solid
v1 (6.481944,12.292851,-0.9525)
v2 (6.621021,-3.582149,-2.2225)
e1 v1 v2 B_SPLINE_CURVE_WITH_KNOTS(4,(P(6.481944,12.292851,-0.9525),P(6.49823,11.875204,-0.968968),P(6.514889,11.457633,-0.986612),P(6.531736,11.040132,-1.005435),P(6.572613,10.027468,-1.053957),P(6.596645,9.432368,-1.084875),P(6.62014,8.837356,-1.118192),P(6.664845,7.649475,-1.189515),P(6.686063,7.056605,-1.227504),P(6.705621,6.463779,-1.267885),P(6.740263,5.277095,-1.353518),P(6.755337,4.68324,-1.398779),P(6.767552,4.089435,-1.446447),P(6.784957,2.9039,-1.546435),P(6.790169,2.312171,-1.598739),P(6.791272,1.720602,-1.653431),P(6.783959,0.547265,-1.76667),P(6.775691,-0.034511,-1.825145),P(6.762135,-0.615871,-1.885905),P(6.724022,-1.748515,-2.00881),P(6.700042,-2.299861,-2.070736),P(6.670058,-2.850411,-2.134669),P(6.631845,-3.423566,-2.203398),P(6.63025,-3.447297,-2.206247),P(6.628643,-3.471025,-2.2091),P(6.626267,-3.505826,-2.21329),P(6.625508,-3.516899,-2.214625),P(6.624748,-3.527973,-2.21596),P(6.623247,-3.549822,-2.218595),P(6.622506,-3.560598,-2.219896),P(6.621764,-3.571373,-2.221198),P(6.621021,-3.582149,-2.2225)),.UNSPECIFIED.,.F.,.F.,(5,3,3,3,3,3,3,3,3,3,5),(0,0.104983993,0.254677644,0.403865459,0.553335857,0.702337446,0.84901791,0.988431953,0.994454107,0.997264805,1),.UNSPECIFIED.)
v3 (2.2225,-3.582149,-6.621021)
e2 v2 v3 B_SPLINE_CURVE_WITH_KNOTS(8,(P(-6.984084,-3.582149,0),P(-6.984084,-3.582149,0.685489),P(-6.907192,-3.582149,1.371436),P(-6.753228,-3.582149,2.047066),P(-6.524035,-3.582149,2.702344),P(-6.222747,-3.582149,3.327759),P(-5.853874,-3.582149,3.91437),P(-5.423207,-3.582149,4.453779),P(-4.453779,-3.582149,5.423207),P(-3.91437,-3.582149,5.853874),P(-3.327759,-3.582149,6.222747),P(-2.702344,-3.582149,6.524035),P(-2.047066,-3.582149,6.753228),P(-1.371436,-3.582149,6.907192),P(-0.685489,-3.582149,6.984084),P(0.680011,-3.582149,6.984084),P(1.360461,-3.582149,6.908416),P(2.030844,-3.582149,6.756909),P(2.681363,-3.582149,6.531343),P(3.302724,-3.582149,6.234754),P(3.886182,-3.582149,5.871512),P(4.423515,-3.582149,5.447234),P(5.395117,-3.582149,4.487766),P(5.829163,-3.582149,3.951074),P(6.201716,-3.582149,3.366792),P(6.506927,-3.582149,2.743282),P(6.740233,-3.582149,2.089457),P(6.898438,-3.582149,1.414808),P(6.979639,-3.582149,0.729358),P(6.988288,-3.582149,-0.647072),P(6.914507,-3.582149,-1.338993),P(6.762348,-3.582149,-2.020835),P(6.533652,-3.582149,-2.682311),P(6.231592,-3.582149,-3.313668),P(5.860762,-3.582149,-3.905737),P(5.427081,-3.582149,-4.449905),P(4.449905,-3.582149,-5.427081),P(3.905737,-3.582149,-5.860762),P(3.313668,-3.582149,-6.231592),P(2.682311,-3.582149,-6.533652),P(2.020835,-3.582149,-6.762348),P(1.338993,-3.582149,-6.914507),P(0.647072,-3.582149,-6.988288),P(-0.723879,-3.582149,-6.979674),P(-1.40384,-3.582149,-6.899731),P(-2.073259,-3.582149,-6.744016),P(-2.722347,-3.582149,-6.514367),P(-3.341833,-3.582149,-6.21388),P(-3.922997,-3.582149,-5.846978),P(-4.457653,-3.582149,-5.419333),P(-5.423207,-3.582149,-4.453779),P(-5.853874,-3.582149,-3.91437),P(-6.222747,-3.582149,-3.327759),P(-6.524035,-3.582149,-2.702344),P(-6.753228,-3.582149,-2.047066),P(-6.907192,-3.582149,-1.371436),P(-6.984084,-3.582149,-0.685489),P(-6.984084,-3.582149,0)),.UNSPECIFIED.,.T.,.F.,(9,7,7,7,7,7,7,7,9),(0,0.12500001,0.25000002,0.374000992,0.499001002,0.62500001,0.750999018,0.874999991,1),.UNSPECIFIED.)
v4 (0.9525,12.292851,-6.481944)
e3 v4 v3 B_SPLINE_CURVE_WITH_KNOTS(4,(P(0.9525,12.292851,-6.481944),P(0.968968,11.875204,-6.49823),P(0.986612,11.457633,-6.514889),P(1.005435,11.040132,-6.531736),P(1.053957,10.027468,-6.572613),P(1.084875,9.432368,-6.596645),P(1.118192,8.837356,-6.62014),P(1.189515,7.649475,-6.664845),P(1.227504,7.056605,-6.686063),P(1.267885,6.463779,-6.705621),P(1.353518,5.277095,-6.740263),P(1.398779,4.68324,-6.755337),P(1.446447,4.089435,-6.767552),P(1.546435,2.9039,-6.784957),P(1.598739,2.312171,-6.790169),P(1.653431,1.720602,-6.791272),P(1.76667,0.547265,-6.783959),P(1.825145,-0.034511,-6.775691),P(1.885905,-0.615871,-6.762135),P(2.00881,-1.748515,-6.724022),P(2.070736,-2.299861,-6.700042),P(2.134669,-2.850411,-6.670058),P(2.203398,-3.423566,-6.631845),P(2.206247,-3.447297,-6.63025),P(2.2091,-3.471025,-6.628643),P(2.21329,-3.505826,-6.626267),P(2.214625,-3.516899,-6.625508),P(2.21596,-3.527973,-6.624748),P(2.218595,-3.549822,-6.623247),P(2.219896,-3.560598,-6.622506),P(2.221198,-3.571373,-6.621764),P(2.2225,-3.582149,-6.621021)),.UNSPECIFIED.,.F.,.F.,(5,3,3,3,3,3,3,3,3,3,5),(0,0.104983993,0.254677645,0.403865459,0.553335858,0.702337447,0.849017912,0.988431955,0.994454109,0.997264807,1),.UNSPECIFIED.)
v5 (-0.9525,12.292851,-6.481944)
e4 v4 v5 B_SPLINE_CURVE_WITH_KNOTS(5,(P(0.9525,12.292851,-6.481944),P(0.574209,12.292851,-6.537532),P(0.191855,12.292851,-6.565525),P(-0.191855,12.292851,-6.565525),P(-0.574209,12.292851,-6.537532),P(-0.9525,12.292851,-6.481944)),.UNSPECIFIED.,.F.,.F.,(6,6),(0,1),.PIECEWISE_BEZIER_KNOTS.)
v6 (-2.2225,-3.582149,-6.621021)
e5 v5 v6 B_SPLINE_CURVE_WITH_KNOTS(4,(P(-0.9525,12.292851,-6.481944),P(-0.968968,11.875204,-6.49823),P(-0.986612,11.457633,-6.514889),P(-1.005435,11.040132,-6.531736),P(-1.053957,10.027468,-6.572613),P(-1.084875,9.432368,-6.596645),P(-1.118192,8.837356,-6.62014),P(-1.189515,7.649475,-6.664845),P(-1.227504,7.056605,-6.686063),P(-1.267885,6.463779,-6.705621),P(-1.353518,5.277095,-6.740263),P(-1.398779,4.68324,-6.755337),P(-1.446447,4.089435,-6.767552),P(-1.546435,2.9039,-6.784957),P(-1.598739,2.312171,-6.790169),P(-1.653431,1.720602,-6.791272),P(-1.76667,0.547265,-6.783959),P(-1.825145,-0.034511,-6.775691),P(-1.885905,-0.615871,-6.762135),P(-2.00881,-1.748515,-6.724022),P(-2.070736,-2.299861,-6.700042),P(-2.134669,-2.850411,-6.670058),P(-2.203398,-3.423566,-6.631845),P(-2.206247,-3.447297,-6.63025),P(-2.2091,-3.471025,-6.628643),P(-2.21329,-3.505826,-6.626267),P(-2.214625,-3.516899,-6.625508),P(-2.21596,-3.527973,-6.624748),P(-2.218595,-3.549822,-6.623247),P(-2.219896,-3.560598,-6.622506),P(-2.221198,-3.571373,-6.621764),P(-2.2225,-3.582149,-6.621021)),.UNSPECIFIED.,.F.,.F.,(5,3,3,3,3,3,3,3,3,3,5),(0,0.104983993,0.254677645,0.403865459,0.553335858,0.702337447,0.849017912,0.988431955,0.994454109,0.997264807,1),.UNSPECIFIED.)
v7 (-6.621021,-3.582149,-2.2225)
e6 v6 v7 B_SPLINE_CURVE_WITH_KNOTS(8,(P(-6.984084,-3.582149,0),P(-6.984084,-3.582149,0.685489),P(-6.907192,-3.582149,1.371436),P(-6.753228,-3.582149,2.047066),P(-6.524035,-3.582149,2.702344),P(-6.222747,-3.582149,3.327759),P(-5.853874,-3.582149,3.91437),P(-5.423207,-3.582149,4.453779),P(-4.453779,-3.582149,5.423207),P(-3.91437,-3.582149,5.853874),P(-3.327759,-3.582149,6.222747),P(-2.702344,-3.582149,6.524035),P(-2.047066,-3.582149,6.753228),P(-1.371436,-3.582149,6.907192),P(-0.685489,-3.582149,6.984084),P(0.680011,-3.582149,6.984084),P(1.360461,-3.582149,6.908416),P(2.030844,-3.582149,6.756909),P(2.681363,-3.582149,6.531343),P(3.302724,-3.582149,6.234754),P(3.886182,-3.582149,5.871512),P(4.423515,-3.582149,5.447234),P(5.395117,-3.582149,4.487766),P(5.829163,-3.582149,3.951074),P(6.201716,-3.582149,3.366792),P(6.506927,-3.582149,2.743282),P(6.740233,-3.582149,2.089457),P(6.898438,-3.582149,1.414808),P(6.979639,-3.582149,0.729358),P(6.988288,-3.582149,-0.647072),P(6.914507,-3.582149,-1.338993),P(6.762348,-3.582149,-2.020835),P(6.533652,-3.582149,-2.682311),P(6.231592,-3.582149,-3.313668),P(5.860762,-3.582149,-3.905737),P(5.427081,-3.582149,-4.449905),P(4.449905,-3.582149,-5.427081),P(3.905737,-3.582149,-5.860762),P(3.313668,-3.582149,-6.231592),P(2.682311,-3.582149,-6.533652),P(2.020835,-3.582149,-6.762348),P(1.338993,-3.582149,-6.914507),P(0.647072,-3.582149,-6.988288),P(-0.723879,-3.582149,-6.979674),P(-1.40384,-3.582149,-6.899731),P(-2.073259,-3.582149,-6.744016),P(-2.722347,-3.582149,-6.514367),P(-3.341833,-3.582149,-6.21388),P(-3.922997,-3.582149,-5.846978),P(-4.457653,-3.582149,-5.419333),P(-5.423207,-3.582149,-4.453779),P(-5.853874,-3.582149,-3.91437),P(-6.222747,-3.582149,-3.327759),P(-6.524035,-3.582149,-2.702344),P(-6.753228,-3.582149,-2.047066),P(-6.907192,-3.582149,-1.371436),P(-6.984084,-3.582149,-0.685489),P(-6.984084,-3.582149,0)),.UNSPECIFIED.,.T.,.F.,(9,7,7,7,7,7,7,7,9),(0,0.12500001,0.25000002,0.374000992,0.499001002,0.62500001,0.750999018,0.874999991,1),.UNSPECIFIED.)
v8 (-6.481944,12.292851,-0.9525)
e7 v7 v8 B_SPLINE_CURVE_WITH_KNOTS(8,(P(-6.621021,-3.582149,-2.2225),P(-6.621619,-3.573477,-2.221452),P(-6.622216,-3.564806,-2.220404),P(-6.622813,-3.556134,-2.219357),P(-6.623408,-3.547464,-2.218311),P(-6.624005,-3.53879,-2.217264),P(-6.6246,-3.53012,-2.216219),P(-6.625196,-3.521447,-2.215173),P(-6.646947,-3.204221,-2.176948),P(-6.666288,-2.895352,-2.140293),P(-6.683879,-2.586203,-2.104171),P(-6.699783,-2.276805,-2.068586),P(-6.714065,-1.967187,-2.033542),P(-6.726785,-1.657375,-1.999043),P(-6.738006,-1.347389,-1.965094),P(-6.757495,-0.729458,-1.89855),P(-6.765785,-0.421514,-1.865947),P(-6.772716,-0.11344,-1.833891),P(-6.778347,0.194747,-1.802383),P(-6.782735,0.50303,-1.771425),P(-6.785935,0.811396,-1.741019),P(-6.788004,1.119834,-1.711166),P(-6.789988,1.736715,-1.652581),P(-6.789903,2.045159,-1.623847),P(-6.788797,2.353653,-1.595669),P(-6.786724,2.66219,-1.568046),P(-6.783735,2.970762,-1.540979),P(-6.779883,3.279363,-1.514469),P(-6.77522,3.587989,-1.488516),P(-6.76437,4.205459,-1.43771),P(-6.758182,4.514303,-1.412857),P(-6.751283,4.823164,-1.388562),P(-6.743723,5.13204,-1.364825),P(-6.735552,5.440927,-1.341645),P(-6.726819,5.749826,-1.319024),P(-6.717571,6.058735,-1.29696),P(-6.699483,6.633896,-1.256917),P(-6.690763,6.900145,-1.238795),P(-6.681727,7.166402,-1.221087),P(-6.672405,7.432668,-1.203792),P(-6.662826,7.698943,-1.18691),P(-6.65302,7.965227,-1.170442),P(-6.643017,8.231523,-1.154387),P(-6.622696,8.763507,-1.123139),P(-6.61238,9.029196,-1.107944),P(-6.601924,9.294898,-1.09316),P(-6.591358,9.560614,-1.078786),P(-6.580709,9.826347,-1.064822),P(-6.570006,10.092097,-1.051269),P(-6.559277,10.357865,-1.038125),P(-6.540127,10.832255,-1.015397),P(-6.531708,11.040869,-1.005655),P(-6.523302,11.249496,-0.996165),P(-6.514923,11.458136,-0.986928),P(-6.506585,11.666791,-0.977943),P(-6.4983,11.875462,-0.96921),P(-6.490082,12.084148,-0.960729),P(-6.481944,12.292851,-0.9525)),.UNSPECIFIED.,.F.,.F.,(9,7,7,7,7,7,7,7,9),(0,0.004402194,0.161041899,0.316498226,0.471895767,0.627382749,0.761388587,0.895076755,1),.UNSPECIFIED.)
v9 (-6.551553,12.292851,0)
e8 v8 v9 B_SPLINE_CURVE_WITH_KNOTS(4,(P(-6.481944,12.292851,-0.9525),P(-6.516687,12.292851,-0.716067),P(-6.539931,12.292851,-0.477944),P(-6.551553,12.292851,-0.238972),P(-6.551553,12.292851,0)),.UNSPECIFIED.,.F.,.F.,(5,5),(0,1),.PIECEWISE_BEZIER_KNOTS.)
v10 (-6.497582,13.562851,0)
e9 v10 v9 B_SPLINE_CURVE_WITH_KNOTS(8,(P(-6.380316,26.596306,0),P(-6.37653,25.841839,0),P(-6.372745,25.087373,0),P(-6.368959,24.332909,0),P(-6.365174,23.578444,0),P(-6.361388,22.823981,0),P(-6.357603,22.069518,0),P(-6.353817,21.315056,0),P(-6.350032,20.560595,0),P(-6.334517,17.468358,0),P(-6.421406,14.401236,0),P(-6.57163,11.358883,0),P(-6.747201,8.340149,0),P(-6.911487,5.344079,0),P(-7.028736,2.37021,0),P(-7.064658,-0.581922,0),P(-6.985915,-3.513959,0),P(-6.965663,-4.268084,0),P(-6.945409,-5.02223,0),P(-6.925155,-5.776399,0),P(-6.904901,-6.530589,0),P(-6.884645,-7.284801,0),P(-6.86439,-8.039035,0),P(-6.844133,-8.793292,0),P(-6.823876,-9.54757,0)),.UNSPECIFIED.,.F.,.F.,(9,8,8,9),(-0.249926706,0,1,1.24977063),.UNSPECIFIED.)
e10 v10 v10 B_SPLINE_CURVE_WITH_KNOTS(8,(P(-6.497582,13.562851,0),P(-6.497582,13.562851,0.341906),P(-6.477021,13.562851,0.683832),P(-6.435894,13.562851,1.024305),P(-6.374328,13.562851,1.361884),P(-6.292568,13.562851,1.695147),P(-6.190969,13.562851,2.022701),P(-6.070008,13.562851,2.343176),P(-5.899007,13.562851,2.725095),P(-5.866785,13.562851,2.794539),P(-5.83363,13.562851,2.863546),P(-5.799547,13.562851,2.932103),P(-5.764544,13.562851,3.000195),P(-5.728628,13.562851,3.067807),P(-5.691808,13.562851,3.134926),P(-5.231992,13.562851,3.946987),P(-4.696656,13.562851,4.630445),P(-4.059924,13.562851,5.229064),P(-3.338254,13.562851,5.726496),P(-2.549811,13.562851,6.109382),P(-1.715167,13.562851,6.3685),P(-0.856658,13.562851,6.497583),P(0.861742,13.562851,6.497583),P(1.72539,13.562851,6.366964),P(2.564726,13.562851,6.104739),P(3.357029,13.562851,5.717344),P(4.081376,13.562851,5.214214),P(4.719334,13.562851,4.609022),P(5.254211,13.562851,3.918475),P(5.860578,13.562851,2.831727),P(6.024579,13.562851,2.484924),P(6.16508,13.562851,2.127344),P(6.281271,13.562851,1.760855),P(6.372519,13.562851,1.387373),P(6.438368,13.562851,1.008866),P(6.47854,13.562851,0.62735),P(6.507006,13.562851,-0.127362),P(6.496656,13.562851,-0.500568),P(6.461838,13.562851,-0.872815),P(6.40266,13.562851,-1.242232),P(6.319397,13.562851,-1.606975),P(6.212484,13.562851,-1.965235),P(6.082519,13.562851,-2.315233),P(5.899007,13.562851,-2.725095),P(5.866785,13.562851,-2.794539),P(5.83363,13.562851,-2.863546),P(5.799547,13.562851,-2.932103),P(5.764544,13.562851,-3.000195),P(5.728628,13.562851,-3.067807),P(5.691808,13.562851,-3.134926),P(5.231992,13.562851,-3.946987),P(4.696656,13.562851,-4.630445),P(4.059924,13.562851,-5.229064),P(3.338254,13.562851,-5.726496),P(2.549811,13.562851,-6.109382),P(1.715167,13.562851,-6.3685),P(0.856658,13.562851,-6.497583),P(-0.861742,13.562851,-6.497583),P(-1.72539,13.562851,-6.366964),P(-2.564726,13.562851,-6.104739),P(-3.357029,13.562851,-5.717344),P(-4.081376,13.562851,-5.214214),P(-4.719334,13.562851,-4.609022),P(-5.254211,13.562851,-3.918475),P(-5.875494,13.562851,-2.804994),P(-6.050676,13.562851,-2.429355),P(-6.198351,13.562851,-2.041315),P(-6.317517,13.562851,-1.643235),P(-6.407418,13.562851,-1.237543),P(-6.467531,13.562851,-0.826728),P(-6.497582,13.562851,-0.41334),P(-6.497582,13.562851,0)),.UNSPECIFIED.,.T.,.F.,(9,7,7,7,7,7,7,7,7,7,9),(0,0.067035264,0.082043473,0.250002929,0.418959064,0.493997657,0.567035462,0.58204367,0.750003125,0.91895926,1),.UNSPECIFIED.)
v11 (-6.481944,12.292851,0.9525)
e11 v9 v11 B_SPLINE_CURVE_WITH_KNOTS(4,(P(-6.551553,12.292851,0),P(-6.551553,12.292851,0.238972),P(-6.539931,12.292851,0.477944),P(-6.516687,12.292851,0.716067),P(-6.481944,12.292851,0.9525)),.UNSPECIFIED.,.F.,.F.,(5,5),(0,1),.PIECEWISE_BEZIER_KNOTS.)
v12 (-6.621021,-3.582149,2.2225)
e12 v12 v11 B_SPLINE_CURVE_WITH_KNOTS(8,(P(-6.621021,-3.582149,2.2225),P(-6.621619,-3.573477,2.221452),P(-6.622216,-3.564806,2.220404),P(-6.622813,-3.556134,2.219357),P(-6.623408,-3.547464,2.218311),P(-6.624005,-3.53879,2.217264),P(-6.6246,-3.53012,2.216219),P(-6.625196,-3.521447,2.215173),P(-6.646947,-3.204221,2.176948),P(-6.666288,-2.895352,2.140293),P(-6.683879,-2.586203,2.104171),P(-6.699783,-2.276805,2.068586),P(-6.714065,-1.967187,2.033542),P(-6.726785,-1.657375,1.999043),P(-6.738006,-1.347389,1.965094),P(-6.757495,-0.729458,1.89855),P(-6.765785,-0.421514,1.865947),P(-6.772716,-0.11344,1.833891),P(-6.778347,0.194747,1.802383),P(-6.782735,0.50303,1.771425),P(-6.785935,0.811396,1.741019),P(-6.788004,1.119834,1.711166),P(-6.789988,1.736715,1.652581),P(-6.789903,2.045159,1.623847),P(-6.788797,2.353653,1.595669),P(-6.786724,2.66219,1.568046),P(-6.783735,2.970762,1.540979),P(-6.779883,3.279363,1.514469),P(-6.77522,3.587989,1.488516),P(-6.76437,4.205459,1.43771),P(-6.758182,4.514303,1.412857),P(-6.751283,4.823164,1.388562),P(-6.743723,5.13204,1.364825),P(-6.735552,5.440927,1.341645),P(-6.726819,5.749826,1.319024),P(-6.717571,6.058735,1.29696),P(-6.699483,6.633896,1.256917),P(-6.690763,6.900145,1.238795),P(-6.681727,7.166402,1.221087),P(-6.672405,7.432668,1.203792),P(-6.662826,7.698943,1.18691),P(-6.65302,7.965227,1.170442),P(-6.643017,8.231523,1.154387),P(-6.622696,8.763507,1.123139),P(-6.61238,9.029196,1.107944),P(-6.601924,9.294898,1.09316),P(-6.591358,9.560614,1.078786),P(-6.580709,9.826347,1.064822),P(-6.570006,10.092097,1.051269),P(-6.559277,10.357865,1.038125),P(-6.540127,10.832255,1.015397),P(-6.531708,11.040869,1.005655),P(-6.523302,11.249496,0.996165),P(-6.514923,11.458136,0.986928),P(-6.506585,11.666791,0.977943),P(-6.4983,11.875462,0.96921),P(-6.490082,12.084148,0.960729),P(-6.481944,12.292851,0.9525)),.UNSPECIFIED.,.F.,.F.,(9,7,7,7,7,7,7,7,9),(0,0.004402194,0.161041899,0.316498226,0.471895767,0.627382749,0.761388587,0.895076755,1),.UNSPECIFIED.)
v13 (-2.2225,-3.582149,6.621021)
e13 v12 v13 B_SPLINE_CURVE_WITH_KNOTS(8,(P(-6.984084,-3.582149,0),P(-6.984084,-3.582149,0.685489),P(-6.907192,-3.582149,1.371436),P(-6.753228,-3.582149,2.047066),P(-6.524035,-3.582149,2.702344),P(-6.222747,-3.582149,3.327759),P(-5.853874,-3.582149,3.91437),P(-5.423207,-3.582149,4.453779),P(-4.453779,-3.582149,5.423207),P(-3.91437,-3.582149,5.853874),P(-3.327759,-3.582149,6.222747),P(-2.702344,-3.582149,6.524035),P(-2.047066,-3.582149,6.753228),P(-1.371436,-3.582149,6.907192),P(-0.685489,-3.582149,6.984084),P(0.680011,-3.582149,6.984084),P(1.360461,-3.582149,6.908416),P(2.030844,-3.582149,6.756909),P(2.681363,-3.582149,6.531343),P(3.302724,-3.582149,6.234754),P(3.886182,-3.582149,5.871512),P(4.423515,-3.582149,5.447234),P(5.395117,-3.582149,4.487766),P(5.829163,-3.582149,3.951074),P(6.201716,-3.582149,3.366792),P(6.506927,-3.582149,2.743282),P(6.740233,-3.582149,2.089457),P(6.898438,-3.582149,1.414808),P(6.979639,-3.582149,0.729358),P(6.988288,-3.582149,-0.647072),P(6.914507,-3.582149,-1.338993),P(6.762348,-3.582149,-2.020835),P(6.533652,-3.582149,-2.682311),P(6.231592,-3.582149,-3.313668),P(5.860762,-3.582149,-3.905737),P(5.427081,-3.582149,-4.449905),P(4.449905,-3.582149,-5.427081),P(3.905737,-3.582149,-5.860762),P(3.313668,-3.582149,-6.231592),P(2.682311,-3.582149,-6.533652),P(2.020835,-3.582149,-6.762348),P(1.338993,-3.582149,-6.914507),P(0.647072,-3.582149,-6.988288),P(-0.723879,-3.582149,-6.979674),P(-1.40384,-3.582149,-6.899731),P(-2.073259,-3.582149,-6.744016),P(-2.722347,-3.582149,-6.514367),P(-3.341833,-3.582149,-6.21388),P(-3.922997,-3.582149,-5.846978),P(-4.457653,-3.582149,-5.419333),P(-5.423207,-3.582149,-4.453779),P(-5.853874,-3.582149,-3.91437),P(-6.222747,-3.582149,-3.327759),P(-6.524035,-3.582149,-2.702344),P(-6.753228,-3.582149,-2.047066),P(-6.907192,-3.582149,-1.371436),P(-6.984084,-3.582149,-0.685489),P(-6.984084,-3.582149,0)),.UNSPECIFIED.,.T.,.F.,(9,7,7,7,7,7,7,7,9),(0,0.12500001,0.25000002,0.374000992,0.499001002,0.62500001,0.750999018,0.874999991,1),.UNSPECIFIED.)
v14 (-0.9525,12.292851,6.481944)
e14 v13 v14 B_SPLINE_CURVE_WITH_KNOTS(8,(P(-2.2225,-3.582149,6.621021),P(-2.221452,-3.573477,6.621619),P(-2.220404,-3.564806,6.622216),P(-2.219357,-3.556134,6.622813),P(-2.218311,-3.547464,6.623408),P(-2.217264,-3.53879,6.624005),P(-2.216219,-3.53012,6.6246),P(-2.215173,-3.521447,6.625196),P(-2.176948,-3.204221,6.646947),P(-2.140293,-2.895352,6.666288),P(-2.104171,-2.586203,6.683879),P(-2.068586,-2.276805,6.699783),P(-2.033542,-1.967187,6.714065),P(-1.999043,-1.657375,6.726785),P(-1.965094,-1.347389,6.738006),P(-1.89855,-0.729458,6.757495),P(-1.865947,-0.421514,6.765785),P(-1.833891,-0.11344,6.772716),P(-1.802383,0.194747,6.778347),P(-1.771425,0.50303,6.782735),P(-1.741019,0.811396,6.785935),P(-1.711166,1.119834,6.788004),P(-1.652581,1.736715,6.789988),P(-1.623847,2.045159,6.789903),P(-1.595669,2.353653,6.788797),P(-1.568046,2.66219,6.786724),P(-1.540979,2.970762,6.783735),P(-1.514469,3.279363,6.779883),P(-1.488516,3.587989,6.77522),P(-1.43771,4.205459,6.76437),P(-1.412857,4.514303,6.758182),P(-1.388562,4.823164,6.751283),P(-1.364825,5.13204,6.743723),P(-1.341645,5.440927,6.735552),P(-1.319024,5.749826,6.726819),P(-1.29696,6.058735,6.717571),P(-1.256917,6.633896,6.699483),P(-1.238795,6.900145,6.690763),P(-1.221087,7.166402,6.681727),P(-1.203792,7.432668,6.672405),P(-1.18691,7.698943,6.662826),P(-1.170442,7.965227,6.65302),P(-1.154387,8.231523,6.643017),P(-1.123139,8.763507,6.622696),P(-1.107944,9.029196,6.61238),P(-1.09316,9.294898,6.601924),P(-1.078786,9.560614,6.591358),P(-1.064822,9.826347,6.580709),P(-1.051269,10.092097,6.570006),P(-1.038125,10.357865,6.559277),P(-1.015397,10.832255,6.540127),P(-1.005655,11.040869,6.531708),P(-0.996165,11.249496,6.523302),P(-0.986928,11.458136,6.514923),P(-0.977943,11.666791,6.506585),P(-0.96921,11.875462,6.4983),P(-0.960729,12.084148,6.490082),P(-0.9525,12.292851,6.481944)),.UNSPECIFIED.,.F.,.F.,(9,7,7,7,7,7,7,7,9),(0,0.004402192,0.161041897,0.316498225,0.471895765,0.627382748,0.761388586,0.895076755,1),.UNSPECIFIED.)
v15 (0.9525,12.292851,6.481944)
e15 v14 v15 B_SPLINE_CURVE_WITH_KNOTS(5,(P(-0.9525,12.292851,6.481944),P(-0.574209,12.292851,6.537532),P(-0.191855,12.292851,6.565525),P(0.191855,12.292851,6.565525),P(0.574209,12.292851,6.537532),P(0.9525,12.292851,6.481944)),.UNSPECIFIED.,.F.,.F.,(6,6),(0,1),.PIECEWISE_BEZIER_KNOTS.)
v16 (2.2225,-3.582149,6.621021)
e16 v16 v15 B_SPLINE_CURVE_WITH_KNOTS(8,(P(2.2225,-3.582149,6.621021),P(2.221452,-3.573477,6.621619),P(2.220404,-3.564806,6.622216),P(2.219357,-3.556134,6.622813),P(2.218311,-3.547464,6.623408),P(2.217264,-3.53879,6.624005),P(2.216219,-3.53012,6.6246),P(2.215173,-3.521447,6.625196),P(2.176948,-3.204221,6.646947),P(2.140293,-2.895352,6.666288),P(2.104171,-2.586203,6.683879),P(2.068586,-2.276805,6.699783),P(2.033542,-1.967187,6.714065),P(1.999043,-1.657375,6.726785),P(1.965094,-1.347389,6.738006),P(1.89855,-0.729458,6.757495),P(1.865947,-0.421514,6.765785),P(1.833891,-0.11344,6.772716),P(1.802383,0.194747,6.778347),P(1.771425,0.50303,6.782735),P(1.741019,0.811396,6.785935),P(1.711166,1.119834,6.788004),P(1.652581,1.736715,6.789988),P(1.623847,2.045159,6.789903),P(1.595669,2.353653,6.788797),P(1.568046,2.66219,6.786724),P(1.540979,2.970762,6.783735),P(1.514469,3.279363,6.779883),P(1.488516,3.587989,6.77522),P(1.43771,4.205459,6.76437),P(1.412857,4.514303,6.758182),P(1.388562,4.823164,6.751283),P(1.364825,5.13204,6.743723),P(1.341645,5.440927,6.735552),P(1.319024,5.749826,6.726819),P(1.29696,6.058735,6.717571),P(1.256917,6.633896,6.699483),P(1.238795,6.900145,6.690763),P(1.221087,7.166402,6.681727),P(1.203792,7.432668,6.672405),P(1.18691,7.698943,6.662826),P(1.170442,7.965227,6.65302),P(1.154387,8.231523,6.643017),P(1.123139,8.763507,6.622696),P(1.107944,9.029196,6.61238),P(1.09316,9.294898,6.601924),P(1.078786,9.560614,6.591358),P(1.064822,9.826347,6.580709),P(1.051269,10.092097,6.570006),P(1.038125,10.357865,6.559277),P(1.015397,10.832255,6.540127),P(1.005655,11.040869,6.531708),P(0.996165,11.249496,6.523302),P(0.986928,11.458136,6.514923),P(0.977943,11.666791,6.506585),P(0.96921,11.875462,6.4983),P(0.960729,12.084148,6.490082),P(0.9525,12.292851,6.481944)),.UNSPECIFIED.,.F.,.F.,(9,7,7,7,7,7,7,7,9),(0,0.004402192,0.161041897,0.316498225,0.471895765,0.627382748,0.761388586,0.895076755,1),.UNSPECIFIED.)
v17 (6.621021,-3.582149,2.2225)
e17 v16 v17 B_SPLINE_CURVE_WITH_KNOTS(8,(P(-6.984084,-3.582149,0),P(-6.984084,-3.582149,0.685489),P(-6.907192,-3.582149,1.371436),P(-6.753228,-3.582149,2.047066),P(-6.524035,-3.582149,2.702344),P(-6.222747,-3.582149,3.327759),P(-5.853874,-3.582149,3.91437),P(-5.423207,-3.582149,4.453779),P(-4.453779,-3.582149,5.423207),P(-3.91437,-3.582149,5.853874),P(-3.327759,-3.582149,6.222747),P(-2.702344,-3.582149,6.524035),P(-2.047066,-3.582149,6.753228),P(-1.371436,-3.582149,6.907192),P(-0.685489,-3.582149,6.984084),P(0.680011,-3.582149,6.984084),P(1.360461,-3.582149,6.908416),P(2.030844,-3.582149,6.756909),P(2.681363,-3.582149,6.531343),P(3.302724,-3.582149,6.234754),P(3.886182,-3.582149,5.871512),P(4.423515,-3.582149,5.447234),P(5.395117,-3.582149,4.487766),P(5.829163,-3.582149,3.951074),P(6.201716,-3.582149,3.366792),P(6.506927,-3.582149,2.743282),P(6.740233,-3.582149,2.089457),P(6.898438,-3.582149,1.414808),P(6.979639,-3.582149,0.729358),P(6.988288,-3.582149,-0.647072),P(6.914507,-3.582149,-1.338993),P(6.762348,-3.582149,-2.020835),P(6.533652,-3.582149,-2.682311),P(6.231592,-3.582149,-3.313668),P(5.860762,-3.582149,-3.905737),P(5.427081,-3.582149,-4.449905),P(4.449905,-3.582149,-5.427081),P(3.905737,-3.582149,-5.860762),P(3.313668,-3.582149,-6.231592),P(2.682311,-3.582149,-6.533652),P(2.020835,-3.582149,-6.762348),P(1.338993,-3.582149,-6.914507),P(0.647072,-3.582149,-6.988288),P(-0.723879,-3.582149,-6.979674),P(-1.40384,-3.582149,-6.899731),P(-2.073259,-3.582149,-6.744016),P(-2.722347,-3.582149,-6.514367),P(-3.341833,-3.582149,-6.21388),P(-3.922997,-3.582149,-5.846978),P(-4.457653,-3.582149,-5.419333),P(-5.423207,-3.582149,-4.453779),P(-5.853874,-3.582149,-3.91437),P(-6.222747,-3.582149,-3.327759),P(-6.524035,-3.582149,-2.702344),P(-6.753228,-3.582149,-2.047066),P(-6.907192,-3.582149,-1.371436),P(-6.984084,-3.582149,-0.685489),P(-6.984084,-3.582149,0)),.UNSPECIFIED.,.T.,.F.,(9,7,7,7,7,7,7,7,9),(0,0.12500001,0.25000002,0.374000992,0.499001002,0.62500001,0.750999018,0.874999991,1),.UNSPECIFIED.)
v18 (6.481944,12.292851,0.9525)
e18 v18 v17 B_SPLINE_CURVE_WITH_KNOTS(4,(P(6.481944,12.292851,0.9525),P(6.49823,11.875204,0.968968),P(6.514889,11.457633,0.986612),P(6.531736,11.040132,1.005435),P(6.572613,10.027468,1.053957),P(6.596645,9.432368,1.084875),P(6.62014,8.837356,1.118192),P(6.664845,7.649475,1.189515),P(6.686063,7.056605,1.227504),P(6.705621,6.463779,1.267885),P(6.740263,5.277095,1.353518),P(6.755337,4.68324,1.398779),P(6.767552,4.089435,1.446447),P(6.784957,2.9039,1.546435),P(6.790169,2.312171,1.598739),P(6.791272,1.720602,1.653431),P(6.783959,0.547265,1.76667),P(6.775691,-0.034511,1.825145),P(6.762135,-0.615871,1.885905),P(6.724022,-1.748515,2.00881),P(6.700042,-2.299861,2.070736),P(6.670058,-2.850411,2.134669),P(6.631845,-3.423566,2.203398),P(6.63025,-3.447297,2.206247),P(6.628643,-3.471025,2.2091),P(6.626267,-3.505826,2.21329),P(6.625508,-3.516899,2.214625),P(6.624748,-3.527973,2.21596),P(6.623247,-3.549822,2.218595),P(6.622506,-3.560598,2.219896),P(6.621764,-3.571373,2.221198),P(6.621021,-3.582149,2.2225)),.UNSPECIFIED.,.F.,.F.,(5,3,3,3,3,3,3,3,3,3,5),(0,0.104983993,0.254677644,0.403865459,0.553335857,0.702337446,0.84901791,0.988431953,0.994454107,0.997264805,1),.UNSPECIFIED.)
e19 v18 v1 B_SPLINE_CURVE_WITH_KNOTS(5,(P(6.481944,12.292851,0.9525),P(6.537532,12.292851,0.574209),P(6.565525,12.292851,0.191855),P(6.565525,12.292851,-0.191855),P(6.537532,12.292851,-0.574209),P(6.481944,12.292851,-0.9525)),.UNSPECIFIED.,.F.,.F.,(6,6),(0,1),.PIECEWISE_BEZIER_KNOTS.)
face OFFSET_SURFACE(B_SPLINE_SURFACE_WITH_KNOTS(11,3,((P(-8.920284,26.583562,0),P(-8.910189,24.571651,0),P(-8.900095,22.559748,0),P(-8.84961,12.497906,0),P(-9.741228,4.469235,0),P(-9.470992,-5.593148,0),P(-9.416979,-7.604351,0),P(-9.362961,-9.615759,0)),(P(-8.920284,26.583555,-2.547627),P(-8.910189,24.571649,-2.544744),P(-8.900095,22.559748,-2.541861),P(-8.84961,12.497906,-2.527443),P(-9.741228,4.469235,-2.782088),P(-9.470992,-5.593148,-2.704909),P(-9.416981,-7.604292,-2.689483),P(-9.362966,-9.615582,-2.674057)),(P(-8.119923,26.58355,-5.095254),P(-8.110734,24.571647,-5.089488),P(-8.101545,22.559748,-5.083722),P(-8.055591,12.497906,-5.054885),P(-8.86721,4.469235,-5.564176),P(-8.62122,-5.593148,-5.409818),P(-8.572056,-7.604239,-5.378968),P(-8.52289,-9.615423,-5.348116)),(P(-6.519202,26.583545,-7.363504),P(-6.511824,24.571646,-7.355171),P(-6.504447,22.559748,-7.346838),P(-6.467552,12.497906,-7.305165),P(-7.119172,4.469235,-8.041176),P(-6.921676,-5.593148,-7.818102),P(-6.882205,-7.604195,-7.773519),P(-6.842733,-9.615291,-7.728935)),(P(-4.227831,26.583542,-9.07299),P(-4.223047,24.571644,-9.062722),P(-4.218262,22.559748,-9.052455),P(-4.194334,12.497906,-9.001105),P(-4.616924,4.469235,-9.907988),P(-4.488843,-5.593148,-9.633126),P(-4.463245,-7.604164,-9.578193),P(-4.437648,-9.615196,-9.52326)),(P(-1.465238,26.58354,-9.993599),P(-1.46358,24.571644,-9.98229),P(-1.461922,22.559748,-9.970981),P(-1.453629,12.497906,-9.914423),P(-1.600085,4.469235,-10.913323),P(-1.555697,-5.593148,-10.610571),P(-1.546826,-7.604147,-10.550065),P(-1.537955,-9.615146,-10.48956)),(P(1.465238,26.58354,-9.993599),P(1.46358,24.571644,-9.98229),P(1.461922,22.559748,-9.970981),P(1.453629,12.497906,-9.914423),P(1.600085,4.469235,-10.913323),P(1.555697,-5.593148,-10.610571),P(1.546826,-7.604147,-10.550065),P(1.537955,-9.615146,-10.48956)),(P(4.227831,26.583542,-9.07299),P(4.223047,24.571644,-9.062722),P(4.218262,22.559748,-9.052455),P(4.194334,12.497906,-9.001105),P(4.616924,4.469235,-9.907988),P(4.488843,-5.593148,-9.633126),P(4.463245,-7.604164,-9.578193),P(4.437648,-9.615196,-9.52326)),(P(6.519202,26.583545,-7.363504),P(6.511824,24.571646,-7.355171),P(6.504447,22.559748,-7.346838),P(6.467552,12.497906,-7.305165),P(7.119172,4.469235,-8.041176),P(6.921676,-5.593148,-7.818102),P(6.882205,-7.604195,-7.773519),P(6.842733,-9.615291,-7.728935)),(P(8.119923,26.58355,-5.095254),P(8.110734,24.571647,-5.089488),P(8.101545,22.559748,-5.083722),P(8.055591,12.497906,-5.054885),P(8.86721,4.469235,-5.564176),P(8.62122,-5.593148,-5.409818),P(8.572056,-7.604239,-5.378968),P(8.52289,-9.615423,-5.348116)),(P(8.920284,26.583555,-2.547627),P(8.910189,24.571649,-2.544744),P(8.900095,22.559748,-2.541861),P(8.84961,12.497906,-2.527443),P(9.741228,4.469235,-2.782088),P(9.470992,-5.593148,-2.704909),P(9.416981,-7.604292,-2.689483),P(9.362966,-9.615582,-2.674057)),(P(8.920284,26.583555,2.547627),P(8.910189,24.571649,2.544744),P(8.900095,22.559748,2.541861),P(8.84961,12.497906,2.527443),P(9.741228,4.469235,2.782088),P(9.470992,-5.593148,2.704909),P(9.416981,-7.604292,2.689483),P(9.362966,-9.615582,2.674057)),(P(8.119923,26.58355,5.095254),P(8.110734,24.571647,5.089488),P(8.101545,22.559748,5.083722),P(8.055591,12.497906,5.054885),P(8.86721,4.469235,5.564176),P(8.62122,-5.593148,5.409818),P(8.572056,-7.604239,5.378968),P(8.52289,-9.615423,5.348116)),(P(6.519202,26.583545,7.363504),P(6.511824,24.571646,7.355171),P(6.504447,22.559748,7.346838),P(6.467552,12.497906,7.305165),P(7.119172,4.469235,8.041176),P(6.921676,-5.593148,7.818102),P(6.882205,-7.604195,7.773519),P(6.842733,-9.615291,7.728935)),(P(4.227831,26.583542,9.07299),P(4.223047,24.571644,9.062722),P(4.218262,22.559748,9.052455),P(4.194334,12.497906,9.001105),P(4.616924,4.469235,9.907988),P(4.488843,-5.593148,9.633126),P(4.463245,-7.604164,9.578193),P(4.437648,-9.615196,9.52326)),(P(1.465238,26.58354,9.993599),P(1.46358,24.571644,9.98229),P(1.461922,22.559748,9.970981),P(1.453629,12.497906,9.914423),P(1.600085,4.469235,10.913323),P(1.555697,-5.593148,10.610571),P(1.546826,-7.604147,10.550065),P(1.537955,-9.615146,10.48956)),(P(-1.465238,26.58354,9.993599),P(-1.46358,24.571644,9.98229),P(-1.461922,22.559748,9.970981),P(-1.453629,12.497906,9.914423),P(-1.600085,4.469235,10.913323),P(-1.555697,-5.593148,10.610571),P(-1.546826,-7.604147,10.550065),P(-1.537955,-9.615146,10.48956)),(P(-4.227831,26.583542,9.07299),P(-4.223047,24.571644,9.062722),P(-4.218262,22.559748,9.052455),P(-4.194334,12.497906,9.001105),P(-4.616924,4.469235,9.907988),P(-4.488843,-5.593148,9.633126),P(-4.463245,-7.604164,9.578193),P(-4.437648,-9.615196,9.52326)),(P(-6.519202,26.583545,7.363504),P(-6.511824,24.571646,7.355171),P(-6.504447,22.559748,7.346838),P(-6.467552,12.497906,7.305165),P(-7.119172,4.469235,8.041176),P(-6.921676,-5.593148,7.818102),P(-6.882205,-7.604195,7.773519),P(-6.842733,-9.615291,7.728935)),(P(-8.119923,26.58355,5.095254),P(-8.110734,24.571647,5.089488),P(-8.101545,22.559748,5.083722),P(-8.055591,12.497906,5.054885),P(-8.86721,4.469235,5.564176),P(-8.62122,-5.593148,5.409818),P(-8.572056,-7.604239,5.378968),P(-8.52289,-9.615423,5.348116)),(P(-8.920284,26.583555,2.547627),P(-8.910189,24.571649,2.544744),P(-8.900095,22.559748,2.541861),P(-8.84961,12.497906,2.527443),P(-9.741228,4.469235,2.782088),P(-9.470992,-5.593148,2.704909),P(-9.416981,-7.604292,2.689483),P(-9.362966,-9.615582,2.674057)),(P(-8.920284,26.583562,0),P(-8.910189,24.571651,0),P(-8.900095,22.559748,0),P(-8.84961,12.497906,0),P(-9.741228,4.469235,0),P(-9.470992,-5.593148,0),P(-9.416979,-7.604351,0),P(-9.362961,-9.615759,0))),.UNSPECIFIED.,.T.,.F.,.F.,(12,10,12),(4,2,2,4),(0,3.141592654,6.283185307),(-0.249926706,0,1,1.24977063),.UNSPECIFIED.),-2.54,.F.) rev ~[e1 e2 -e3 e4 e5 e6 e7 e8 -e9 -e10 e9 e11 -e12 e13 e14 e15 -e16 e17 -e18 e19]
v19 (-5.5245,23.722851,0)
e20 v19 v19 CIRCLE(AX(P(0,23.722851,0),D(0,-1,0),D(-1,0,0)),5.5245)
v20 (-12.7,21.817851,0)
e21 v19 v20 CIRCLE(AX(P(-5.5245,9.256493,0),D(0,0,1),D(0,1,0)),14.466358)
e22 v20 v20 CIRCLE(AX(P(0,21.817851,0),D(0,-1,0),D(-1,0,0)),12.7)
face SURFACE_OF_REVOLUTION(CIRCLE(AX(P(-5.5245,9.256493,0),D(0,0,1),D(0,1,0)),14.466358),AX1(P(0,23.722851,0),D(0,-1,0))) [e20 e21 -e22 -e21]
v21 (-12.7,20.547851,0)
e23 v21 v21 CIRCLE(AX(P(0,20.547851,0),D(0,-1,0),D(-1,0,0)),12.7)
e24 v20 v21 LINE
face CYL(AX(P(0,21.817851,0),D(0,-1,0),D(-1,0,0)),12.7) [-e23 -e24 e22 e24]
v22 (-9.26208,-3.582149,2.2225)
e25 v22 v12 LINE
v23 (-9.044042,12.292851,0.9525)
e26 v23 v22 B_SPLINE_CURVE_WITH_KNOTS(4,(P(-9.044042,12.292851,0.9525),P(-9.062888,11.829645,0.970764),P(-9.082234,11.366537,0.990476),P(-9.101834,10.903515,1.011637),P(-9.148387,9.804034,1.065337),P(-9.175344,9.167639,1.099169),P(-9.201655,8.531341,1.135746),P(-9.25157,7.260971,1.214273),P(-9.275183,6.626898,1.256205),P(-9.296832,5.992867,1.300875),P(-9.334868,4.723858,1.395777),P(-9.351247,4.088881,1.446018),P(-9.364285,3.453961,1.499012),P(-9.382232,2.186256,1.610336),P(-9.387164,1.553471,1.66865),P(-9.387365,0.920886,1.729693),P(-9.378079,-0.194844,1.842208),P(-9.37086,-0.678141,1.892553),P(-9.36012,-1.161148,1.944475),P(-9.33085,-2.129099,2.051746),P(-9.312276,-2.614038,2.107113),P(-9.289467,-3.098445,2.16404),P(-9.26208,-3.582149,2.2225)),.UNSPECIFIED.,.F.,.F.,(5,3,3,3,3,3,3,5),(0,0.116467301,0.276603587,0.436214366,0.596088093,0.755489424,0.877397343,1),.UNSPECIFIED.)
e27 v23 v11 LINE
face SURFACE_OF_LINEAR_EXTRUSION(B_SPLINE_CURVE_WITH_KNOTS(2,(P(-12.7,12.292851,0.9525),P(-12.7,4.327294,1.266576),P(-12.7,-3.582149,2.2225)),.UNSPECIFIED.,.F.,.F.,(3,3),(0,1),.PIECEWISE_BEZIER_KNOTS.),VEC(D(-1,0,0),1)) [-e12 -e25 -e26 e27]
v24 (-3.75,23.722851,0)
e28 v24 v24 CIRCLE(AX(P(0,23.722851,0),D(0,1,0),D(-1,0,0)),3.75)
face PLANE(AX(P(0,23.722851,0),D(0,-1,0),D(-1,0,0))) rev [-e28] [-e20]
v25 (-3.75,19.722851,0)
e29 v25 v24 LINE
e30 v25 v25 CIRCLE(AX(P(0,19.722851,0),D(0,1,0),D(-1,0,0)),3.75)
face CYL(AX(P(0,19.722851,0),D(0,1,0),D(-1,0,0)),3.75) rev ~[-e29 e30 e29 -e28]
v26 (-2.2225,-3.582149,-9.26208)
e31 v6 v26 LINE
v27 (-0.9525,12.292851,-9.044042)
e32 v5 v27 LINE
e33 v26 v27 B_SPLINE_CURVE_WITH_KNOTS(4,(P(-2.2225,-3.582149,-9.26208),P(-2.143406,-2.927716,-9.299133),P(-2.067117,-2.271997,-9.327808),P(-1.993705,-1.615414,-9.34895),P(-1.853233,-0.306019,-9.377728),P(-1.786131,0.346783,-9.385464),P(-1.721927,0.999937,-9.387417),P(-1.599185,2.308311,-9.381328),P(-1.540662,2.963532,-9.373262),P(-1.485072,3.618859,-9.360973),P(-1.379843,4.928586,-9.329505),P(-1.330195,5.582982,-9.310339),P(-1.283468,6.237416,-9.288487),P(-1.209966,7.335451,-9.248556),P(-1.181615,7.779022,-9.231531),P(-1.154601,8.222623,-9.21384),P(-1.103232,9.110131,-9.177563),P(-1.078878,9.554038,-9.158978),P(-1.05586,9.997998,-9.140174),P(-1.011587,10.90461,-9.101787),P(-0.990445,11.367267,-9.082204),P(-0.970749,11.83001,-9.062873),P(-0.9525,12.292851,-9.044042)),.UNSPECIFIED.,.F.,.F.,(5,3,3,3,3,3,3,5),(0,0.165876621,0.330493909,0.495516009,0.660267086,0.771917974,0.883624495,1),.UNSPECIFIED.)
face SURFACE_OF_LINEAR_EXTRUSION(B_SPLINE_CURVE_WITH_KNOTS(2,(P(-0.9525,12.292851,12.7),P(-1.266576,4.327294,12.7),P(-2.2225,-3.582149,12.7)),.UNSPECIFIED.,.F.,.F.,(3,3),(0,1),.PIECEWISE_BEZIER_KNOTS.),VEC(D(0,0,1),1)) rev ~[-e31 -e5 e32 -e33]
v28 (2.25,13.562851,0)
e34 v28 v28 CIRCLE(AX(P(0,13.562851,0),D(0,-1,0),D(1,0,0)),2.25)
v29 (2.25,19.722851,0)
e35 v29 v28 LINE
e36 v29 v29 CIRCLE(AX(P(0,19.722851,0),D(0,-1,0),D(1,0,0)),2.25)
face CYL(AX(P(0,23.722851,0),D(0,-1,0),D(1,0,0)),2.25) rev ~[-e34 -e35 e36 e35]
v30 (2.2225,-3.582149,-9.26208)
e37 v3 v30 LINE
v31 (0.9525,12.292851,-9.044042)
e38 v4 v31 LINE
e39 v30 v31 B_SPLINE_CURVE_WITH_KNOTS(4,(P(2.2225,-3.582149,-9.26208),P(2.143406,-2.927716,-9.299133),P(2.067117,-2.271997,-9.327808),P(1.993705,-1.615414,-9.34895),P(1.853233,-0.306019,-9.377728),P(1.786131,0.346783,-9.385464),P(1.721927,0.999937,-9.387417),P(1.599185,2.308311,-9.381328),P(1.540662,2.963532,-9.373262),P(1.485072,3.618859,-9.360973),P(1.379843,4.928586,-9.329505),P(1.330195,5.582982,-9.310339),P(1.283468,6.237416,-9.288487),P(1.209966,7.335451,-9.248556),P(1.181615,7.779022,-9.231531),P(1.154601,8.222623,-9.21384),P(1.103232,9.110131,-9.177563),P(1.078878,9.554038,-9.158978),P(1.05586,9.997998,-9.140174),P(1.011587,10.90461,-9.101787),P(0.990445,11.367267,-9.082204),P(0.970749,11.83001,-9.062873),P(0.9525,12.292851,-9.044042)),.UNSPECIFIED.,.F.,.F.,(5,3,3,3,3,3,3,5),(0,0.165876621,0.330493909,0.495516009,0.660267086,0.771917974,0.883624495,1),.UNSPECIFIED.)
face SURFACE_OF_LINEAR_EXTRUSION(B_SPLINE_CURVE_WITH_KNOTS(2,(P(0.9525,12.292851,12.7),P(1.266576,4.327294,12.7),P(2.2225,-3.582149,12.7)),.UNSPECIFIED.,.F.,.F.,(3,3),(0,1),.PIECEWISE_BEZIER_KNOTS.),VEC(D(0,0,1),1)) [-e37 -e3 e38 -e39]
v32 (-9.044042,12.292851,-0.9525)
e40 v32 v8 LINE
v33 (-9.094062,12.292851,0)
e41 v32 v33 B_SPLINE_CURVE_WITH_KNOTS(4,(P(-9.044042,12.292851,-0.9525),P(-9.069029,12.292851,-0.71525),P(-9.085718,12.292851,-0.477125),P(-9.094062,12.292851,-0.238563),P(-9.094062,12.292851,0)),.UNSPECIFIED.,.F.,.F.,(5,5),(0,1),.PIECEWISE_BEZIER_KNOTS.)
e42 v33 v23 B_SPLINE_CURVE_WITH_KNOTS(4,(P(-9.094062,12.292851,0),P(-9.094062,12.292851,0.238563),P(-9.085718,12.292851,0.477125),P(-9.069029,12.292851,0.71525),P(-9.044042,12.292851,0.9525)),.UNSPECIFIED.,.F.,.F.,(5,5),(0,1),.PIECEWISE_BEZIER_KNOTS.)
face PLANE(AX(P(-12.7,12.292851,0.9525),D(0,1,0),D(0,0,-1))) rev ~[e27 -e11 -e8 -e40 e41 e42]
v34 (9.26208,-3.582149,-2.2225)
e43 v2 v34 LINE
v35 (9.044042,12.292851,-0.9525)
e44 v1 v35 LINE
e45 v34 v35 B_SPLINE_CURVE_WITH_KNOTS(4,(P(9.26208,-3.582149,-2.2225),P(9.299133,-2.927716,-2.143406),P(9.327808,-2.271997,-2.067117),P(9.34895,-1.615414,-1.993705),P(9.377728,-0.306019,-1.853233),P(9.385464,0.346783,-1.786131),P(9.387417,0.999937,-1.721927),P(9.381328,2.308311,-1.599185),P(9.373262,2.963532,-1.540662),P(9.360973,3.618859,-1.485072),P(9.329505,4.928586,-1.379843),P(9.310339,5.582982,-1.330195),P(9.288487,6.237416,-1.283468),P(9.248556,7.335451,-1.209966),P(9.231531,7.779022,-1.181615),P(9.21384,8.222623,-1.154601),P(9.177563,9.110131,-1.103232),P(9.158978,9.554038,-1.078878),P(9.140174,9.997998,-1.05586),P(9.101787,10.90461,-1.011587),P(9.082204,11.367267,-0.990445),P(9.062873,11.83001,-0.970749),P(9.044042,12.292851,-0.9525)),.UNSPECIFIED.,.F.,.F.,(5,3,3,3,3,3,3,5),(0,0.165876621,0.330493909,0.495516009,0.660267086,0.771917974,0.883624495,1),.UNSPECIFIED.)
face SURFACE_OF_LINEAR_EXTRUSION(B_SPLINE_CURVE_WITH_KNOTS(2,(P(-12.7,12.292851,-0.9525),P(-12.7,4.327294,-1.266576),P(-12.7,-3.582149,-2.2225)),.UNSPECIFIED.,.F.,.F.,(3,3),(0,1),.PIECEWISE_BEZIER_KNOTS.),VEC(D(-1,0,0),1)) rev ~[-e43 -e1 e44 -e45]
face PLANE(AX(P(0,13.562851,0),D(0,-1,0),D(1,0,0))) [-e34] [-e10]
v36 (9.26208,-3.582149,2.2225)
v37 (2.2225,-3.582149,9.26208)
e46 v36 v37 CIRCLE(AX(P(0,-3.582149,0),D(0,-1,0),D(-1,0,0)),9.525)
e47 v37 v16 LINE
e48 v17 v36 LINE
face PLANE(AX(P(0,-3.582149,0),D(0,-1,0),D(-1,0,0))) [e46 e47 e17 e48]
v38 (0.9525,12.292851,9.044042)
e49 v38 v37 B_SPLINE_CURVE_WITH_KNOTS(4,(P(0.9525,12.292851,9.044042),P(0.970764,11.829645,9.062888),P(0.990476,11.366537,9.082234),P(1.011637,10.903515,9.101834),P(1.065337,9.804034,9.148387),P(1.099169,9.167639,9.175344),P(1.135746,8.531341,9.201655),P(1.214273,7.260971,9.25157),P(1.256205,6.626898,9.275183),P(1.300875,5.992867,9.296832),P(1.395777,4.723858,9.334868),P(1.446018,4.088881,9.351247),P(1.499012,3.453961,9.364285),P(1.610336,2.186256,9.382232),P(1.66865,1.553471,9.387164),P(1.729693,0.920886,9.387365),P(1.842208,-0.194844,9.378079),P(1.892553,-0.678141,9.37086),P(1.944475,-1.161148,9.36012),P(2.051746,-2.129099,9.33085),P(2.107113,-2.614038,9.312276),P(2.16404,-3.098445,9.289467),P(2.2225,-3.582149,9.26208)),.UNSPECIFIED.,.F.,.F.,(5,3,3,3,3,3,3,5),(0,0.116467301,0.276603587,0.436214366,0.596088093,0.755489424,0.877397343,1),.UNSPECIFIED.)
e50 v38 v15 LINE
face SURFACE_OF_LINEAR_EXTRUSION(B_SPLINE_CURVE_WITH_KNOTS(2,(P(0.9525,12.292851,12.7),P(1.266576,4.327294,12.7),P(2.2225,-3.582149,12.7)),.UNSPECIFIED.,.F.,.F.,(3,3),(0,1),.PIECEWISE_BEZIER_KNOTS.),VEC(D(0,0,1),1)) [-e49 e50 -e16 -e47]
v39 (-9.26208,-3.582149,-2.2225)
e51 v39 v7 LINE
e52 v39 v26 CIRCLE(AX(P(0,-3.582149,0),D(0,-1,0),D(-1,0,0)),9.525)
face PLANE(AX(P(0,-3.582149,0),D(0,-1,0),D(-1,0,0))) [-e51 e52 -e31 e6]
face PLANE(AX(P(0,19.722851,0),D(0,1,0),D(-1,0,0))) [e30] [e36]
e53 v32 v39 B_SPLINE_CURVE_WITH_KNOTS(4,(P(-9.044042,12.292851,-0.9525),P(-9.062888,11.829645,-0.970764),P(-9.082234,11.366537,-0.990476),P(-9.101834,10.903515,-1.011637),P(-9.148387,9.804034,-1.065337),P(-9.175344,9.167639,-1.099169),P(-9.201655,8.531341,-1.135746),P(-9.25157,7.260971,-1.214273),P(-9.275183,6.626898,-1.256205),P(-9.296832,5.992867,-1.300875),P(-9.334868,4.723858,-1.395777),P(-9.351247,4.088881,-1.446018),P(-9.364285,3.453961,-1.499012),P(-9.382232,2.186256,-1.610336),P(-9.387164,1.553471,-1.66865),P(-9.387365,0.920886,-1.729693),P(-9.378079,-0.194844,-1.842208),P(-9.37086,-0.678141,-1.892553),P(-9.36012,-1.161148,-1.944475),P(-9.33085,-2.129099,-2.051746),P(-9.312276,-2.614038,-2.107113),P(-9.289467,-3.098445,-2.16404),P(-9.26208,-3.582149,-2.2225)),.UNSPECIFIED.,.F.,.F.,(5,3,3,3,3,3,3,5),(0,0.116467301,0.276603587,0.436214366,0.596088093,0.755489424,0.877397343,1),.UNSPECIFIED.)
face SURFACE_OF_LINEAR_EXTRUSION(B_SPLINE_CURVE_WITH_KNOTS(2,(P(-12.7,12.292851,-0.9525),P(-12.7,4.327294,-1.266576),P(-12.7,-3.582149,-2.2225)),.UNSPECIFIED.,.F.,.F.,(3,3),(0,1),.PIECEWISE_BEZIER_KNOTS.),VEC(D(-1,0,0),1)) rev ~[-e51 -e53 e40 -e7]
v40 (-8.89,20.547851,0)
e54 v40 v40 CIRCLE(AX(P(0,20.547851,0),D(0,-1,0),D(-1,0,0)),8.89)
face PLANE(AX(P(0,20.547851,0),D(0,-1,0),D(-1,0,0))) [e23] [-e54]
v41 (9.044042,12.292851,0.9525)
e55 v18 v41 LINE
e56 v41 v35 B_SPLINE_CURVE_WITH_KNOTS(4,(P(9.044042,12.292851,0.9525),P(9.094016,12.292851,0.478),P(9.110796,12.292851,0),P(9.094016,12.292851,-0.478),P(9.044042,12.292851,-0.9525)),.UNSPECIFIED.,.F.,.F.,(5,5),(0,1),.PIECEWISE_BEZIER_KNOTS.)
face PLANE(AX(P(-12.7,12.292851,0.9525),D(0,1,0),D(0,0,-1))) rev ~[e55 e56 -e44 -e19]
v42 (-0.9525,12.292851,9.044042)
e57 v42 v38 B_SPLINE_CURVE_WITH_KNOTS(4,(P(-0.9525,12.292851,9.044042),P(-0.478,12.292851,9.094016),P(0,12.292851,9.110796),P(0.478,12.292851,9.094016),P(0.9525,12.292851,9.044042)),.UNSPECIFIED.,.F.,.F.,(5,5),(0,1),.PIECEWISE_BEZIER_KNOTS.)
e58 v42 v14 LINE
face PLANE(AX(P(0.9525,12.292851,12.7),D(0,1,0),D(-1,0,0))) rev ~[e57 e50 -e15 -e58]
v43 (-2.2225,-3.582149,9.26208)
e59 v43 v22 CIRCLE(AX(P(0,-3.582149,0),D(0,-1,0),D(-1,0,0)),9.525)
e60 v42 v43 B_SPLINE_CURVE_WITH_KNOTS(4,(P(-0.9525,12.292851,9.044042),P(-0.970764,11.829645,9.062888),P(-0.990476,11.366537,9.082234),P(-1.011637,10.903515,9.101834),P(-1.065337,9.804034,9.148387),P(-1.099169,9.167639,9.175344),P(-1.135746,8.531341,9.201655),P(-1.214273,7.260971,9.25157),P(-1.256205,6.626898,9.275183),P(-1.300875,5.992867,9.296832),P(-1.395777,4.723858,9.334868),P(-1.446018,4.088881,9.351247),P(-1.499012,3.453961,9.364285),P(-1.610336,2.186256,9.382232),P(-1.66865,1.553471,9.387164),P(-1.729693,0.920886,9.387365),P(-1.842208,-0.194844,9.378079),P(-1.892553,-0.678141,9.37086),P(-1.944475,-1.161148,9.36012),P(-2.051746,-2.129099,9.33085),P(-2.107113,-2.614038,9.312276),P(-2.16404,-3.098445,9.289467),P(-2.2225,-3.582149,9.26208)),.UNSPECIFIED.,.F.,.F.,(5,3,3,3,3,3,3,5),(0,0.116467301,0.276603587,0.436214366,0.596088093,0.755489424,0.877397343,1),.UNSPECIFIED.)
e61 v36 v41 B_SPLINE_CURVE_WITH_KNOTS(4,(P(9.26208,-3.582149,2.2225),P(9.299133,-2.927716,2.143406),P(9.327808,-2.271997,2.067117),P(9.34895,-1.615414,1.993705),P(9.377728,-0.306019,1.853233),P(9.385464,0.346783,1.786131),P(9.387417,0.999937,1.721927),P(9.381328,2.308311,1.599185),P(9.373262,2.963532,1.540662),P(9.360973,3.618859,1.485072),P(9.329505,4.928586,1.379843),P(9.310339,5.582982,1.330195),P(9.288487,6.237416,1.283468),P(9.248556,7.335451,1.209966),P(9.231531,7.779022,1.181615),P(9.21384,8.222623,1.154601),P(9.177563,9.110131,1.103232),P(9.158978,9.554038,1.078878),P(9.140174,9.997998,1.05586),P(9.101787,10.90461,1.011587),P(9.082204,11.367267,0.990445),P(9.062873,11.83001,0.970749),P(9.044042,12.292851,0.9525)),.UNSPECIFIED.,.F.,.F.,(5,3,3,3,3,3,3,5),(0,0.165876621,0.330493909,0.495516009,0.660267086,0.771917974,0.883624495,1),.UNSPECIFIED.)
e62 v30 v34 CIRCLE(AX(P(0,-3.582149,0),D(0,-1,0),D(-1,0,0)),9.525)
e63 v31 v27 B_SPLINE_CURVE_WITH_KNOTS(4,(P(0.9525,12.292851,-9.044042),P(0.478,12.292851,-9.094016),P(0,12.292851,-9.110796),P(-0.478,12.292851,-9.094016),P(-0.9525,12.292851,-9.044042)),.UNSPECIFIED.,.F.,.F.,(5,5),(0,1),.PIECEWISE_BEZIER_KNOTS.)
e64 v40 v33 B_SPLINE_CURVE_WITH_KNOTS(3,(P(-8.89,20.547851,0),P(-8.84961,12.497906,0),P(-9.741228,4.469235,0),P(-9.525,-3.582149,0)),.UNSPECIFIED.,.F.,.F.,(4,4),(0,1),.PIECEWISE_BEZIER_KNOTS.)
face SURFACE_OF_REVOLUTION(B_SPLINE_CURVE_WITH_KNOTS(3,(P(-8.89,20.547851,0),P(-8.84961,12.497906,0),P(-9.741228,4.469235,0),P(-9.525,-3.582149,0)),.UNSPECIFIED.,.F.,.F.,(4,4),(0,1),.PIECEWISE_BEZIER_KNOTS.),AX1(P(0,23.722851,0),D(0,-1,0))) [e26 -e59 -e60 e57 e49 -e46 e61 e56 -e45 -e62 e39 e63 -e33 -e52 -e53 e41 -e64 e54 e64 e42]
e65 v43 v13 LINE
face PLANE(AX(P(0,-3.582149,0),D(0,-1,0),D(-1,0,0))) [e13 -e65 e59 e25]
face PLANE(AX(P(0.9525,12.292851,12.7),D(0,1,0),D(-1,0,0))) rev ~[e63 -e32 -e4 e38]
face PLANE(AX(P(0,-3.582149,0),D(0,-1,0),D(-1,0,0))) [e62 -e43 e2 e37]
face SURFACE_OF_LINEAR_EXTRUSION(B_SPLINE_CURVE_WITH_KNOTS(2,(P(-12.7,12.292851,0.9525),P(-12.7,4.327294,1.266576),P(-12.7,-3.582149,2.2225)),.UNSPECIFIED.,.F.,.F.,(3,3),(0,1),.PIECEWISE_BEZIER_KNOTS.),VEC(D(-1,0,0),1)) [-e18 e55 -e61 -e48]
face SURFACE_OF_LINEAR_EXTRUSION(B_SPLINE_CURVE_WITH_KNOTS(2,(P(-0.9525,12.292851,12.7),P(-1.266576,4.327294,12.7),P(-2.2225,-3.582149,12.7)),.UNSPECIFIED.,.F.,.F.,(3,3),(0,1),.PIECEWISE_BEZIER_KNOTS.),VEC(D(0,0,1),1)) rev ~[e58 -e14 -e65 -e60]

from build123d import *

# Parameters (mm, degrees)
SHELL1_T                                = -2.54
CUT_EXTRUDE2_DEPTH                      = 38.003022678
CIRPATTERN1_COUNT                       = 2
CIRPATTERN1_ANGLE                       = 90
BOSS_EXTRUDE3_DEPTH                     = 6.985
BOSS_EXTRUDE3_DEPTH_BACK                = 2.54
SKETCH13_R                              = 8.663884536
CBORE_FOR_M5_HEX_HEAD_BOLT2_D           = 4.5
CBORE_FOR_M5_HEX_HEAD_BOLT2_CBORE_D     = 7.5
CBORE_FOR_M5_HEX_HEAD_BOLT2_CBORE_DEPTH = 4


with BuildPart() as part:
    # Sketch1 → Revolve1 (revolve)
    with BuildSketch(Plane.XY, mode=Mode.PRIVATE) as revolve1_sk:
        with BuildLine():
            Line((0, 23.722851324), (5.5245, 23.722851324))
            ThreePointArc((5.5245, 23.722851324), (9.236535333, 23.238492745), (12.7, 21.817851324))
            Line((12.7, 21.817851324), (12.7, 20.547851324))
            Line((12.7, 20.547851324), (8.89, 20.547851324))
            add(Edge.make_bspline(
                [(8.89, 20.547851324), (8.84961008, 12.497906194), (9.741228483, 4.469234919), (9.525, -3.582148676)],
                knots=[0, 0, 0, 0, 1, 1, 1, 1], degree=3))
            Line((9.525, -3.582148676), (0, -3.582148676))
            Line((0, -3.582148676), (0, 23.722851324))
        make_face()
    revolve(revolve1_sk.sketch.rotate(Axis((0, 23.722851324, 0), (0, -1, 0)), 180), axis=Axis((0, 23.722851324, 0), (0, -1, 0)))

    # Shell1
    shell1_openings = [part.faces().sort_by_distance(p)[0] for p in [
        (0, -3.582148676, 0),
    ]]
    offset(amount=SHELL1_T, openings=shell1_openings, kind=Kind.INTERSECTION)

    # Sketch4 → Cut-Extrude2 (cut, through all)
    with BuildSketch(Plane.XY.offset(12.7)):
        with BuildLine():
            Line((0.9525, 12.292851324), (-0.9525, 12.292851324))
            add(Edge.make_bspline(
                [(-0.9525, 12.292851324), (-1.266575854, 4.327293664), (-2.2225, -3.582148676)],
                knots=[0, 0, 0, 1, 1, 1], degree=2))
            Line((-2.2225, -3.582148676), (2.2225, -3.582148676))
            add(Edge.make_bspline(
                [(0.9525, 12.292851324), (1.266575854, 4.327293664), (2.2225, -3.582148676)],
                knots=[0, 0, 0, 1, 1, 1], degree=2))
        make_face()
    cut_extrude2 = extrude(amount=-CUT_EXTRUDE2_DEPTH, mode=Mode.SUBTRACT)

    # CirPattern1: Cut-Extrude2 ×2 about axis
    cirpattern1_axis = Axis((0, 0, 0), (0, -1, 0))
    for i in range(1, CIRPATTERN1_COUNT):
        add(cut_extrude2.rotate(cirpattern1_axis, i * CIRPATTERN1_ANGLE / (CIRPATTERN1_COUNT - 1)), mode=Mode.SUBTRACT)

    # Sketch13 → Boss-Extrude3 (add, two sides: drawn at the far end of the back side and taken through both)
    with BuildSketch(Plane.XZ.offset(-20.547851324).offset(-BOSS_EXTRUDE3_DEPTH_BACK)):
        Circle(SKETCH13_R)
    extrude(amount=BOSS_EXTRUDE3_DEPTH + BOSS_EXTRUDE3_DEPTH_BACK)

    # CBORE for M5 Hex Head Bolt2 (through all)
    with Locations(Plane(origin=(0, 23.722851324, 0), x_dir=(-1, 0, 0), z_dir=(0, 1, 0))):
        with Locations((0, 0)):
            CounterBoreHole(CBORE_FOR_M5_HEX_HEAD_BOLT2_D / 2, CBORE_FOR_M5_HEX_HEAD_BOLT2_CBORE_D / 2, CBORE_FOR_M5_HEX_HEAD_BOLT2_CBORE_DEPTH)


solid = part.part
